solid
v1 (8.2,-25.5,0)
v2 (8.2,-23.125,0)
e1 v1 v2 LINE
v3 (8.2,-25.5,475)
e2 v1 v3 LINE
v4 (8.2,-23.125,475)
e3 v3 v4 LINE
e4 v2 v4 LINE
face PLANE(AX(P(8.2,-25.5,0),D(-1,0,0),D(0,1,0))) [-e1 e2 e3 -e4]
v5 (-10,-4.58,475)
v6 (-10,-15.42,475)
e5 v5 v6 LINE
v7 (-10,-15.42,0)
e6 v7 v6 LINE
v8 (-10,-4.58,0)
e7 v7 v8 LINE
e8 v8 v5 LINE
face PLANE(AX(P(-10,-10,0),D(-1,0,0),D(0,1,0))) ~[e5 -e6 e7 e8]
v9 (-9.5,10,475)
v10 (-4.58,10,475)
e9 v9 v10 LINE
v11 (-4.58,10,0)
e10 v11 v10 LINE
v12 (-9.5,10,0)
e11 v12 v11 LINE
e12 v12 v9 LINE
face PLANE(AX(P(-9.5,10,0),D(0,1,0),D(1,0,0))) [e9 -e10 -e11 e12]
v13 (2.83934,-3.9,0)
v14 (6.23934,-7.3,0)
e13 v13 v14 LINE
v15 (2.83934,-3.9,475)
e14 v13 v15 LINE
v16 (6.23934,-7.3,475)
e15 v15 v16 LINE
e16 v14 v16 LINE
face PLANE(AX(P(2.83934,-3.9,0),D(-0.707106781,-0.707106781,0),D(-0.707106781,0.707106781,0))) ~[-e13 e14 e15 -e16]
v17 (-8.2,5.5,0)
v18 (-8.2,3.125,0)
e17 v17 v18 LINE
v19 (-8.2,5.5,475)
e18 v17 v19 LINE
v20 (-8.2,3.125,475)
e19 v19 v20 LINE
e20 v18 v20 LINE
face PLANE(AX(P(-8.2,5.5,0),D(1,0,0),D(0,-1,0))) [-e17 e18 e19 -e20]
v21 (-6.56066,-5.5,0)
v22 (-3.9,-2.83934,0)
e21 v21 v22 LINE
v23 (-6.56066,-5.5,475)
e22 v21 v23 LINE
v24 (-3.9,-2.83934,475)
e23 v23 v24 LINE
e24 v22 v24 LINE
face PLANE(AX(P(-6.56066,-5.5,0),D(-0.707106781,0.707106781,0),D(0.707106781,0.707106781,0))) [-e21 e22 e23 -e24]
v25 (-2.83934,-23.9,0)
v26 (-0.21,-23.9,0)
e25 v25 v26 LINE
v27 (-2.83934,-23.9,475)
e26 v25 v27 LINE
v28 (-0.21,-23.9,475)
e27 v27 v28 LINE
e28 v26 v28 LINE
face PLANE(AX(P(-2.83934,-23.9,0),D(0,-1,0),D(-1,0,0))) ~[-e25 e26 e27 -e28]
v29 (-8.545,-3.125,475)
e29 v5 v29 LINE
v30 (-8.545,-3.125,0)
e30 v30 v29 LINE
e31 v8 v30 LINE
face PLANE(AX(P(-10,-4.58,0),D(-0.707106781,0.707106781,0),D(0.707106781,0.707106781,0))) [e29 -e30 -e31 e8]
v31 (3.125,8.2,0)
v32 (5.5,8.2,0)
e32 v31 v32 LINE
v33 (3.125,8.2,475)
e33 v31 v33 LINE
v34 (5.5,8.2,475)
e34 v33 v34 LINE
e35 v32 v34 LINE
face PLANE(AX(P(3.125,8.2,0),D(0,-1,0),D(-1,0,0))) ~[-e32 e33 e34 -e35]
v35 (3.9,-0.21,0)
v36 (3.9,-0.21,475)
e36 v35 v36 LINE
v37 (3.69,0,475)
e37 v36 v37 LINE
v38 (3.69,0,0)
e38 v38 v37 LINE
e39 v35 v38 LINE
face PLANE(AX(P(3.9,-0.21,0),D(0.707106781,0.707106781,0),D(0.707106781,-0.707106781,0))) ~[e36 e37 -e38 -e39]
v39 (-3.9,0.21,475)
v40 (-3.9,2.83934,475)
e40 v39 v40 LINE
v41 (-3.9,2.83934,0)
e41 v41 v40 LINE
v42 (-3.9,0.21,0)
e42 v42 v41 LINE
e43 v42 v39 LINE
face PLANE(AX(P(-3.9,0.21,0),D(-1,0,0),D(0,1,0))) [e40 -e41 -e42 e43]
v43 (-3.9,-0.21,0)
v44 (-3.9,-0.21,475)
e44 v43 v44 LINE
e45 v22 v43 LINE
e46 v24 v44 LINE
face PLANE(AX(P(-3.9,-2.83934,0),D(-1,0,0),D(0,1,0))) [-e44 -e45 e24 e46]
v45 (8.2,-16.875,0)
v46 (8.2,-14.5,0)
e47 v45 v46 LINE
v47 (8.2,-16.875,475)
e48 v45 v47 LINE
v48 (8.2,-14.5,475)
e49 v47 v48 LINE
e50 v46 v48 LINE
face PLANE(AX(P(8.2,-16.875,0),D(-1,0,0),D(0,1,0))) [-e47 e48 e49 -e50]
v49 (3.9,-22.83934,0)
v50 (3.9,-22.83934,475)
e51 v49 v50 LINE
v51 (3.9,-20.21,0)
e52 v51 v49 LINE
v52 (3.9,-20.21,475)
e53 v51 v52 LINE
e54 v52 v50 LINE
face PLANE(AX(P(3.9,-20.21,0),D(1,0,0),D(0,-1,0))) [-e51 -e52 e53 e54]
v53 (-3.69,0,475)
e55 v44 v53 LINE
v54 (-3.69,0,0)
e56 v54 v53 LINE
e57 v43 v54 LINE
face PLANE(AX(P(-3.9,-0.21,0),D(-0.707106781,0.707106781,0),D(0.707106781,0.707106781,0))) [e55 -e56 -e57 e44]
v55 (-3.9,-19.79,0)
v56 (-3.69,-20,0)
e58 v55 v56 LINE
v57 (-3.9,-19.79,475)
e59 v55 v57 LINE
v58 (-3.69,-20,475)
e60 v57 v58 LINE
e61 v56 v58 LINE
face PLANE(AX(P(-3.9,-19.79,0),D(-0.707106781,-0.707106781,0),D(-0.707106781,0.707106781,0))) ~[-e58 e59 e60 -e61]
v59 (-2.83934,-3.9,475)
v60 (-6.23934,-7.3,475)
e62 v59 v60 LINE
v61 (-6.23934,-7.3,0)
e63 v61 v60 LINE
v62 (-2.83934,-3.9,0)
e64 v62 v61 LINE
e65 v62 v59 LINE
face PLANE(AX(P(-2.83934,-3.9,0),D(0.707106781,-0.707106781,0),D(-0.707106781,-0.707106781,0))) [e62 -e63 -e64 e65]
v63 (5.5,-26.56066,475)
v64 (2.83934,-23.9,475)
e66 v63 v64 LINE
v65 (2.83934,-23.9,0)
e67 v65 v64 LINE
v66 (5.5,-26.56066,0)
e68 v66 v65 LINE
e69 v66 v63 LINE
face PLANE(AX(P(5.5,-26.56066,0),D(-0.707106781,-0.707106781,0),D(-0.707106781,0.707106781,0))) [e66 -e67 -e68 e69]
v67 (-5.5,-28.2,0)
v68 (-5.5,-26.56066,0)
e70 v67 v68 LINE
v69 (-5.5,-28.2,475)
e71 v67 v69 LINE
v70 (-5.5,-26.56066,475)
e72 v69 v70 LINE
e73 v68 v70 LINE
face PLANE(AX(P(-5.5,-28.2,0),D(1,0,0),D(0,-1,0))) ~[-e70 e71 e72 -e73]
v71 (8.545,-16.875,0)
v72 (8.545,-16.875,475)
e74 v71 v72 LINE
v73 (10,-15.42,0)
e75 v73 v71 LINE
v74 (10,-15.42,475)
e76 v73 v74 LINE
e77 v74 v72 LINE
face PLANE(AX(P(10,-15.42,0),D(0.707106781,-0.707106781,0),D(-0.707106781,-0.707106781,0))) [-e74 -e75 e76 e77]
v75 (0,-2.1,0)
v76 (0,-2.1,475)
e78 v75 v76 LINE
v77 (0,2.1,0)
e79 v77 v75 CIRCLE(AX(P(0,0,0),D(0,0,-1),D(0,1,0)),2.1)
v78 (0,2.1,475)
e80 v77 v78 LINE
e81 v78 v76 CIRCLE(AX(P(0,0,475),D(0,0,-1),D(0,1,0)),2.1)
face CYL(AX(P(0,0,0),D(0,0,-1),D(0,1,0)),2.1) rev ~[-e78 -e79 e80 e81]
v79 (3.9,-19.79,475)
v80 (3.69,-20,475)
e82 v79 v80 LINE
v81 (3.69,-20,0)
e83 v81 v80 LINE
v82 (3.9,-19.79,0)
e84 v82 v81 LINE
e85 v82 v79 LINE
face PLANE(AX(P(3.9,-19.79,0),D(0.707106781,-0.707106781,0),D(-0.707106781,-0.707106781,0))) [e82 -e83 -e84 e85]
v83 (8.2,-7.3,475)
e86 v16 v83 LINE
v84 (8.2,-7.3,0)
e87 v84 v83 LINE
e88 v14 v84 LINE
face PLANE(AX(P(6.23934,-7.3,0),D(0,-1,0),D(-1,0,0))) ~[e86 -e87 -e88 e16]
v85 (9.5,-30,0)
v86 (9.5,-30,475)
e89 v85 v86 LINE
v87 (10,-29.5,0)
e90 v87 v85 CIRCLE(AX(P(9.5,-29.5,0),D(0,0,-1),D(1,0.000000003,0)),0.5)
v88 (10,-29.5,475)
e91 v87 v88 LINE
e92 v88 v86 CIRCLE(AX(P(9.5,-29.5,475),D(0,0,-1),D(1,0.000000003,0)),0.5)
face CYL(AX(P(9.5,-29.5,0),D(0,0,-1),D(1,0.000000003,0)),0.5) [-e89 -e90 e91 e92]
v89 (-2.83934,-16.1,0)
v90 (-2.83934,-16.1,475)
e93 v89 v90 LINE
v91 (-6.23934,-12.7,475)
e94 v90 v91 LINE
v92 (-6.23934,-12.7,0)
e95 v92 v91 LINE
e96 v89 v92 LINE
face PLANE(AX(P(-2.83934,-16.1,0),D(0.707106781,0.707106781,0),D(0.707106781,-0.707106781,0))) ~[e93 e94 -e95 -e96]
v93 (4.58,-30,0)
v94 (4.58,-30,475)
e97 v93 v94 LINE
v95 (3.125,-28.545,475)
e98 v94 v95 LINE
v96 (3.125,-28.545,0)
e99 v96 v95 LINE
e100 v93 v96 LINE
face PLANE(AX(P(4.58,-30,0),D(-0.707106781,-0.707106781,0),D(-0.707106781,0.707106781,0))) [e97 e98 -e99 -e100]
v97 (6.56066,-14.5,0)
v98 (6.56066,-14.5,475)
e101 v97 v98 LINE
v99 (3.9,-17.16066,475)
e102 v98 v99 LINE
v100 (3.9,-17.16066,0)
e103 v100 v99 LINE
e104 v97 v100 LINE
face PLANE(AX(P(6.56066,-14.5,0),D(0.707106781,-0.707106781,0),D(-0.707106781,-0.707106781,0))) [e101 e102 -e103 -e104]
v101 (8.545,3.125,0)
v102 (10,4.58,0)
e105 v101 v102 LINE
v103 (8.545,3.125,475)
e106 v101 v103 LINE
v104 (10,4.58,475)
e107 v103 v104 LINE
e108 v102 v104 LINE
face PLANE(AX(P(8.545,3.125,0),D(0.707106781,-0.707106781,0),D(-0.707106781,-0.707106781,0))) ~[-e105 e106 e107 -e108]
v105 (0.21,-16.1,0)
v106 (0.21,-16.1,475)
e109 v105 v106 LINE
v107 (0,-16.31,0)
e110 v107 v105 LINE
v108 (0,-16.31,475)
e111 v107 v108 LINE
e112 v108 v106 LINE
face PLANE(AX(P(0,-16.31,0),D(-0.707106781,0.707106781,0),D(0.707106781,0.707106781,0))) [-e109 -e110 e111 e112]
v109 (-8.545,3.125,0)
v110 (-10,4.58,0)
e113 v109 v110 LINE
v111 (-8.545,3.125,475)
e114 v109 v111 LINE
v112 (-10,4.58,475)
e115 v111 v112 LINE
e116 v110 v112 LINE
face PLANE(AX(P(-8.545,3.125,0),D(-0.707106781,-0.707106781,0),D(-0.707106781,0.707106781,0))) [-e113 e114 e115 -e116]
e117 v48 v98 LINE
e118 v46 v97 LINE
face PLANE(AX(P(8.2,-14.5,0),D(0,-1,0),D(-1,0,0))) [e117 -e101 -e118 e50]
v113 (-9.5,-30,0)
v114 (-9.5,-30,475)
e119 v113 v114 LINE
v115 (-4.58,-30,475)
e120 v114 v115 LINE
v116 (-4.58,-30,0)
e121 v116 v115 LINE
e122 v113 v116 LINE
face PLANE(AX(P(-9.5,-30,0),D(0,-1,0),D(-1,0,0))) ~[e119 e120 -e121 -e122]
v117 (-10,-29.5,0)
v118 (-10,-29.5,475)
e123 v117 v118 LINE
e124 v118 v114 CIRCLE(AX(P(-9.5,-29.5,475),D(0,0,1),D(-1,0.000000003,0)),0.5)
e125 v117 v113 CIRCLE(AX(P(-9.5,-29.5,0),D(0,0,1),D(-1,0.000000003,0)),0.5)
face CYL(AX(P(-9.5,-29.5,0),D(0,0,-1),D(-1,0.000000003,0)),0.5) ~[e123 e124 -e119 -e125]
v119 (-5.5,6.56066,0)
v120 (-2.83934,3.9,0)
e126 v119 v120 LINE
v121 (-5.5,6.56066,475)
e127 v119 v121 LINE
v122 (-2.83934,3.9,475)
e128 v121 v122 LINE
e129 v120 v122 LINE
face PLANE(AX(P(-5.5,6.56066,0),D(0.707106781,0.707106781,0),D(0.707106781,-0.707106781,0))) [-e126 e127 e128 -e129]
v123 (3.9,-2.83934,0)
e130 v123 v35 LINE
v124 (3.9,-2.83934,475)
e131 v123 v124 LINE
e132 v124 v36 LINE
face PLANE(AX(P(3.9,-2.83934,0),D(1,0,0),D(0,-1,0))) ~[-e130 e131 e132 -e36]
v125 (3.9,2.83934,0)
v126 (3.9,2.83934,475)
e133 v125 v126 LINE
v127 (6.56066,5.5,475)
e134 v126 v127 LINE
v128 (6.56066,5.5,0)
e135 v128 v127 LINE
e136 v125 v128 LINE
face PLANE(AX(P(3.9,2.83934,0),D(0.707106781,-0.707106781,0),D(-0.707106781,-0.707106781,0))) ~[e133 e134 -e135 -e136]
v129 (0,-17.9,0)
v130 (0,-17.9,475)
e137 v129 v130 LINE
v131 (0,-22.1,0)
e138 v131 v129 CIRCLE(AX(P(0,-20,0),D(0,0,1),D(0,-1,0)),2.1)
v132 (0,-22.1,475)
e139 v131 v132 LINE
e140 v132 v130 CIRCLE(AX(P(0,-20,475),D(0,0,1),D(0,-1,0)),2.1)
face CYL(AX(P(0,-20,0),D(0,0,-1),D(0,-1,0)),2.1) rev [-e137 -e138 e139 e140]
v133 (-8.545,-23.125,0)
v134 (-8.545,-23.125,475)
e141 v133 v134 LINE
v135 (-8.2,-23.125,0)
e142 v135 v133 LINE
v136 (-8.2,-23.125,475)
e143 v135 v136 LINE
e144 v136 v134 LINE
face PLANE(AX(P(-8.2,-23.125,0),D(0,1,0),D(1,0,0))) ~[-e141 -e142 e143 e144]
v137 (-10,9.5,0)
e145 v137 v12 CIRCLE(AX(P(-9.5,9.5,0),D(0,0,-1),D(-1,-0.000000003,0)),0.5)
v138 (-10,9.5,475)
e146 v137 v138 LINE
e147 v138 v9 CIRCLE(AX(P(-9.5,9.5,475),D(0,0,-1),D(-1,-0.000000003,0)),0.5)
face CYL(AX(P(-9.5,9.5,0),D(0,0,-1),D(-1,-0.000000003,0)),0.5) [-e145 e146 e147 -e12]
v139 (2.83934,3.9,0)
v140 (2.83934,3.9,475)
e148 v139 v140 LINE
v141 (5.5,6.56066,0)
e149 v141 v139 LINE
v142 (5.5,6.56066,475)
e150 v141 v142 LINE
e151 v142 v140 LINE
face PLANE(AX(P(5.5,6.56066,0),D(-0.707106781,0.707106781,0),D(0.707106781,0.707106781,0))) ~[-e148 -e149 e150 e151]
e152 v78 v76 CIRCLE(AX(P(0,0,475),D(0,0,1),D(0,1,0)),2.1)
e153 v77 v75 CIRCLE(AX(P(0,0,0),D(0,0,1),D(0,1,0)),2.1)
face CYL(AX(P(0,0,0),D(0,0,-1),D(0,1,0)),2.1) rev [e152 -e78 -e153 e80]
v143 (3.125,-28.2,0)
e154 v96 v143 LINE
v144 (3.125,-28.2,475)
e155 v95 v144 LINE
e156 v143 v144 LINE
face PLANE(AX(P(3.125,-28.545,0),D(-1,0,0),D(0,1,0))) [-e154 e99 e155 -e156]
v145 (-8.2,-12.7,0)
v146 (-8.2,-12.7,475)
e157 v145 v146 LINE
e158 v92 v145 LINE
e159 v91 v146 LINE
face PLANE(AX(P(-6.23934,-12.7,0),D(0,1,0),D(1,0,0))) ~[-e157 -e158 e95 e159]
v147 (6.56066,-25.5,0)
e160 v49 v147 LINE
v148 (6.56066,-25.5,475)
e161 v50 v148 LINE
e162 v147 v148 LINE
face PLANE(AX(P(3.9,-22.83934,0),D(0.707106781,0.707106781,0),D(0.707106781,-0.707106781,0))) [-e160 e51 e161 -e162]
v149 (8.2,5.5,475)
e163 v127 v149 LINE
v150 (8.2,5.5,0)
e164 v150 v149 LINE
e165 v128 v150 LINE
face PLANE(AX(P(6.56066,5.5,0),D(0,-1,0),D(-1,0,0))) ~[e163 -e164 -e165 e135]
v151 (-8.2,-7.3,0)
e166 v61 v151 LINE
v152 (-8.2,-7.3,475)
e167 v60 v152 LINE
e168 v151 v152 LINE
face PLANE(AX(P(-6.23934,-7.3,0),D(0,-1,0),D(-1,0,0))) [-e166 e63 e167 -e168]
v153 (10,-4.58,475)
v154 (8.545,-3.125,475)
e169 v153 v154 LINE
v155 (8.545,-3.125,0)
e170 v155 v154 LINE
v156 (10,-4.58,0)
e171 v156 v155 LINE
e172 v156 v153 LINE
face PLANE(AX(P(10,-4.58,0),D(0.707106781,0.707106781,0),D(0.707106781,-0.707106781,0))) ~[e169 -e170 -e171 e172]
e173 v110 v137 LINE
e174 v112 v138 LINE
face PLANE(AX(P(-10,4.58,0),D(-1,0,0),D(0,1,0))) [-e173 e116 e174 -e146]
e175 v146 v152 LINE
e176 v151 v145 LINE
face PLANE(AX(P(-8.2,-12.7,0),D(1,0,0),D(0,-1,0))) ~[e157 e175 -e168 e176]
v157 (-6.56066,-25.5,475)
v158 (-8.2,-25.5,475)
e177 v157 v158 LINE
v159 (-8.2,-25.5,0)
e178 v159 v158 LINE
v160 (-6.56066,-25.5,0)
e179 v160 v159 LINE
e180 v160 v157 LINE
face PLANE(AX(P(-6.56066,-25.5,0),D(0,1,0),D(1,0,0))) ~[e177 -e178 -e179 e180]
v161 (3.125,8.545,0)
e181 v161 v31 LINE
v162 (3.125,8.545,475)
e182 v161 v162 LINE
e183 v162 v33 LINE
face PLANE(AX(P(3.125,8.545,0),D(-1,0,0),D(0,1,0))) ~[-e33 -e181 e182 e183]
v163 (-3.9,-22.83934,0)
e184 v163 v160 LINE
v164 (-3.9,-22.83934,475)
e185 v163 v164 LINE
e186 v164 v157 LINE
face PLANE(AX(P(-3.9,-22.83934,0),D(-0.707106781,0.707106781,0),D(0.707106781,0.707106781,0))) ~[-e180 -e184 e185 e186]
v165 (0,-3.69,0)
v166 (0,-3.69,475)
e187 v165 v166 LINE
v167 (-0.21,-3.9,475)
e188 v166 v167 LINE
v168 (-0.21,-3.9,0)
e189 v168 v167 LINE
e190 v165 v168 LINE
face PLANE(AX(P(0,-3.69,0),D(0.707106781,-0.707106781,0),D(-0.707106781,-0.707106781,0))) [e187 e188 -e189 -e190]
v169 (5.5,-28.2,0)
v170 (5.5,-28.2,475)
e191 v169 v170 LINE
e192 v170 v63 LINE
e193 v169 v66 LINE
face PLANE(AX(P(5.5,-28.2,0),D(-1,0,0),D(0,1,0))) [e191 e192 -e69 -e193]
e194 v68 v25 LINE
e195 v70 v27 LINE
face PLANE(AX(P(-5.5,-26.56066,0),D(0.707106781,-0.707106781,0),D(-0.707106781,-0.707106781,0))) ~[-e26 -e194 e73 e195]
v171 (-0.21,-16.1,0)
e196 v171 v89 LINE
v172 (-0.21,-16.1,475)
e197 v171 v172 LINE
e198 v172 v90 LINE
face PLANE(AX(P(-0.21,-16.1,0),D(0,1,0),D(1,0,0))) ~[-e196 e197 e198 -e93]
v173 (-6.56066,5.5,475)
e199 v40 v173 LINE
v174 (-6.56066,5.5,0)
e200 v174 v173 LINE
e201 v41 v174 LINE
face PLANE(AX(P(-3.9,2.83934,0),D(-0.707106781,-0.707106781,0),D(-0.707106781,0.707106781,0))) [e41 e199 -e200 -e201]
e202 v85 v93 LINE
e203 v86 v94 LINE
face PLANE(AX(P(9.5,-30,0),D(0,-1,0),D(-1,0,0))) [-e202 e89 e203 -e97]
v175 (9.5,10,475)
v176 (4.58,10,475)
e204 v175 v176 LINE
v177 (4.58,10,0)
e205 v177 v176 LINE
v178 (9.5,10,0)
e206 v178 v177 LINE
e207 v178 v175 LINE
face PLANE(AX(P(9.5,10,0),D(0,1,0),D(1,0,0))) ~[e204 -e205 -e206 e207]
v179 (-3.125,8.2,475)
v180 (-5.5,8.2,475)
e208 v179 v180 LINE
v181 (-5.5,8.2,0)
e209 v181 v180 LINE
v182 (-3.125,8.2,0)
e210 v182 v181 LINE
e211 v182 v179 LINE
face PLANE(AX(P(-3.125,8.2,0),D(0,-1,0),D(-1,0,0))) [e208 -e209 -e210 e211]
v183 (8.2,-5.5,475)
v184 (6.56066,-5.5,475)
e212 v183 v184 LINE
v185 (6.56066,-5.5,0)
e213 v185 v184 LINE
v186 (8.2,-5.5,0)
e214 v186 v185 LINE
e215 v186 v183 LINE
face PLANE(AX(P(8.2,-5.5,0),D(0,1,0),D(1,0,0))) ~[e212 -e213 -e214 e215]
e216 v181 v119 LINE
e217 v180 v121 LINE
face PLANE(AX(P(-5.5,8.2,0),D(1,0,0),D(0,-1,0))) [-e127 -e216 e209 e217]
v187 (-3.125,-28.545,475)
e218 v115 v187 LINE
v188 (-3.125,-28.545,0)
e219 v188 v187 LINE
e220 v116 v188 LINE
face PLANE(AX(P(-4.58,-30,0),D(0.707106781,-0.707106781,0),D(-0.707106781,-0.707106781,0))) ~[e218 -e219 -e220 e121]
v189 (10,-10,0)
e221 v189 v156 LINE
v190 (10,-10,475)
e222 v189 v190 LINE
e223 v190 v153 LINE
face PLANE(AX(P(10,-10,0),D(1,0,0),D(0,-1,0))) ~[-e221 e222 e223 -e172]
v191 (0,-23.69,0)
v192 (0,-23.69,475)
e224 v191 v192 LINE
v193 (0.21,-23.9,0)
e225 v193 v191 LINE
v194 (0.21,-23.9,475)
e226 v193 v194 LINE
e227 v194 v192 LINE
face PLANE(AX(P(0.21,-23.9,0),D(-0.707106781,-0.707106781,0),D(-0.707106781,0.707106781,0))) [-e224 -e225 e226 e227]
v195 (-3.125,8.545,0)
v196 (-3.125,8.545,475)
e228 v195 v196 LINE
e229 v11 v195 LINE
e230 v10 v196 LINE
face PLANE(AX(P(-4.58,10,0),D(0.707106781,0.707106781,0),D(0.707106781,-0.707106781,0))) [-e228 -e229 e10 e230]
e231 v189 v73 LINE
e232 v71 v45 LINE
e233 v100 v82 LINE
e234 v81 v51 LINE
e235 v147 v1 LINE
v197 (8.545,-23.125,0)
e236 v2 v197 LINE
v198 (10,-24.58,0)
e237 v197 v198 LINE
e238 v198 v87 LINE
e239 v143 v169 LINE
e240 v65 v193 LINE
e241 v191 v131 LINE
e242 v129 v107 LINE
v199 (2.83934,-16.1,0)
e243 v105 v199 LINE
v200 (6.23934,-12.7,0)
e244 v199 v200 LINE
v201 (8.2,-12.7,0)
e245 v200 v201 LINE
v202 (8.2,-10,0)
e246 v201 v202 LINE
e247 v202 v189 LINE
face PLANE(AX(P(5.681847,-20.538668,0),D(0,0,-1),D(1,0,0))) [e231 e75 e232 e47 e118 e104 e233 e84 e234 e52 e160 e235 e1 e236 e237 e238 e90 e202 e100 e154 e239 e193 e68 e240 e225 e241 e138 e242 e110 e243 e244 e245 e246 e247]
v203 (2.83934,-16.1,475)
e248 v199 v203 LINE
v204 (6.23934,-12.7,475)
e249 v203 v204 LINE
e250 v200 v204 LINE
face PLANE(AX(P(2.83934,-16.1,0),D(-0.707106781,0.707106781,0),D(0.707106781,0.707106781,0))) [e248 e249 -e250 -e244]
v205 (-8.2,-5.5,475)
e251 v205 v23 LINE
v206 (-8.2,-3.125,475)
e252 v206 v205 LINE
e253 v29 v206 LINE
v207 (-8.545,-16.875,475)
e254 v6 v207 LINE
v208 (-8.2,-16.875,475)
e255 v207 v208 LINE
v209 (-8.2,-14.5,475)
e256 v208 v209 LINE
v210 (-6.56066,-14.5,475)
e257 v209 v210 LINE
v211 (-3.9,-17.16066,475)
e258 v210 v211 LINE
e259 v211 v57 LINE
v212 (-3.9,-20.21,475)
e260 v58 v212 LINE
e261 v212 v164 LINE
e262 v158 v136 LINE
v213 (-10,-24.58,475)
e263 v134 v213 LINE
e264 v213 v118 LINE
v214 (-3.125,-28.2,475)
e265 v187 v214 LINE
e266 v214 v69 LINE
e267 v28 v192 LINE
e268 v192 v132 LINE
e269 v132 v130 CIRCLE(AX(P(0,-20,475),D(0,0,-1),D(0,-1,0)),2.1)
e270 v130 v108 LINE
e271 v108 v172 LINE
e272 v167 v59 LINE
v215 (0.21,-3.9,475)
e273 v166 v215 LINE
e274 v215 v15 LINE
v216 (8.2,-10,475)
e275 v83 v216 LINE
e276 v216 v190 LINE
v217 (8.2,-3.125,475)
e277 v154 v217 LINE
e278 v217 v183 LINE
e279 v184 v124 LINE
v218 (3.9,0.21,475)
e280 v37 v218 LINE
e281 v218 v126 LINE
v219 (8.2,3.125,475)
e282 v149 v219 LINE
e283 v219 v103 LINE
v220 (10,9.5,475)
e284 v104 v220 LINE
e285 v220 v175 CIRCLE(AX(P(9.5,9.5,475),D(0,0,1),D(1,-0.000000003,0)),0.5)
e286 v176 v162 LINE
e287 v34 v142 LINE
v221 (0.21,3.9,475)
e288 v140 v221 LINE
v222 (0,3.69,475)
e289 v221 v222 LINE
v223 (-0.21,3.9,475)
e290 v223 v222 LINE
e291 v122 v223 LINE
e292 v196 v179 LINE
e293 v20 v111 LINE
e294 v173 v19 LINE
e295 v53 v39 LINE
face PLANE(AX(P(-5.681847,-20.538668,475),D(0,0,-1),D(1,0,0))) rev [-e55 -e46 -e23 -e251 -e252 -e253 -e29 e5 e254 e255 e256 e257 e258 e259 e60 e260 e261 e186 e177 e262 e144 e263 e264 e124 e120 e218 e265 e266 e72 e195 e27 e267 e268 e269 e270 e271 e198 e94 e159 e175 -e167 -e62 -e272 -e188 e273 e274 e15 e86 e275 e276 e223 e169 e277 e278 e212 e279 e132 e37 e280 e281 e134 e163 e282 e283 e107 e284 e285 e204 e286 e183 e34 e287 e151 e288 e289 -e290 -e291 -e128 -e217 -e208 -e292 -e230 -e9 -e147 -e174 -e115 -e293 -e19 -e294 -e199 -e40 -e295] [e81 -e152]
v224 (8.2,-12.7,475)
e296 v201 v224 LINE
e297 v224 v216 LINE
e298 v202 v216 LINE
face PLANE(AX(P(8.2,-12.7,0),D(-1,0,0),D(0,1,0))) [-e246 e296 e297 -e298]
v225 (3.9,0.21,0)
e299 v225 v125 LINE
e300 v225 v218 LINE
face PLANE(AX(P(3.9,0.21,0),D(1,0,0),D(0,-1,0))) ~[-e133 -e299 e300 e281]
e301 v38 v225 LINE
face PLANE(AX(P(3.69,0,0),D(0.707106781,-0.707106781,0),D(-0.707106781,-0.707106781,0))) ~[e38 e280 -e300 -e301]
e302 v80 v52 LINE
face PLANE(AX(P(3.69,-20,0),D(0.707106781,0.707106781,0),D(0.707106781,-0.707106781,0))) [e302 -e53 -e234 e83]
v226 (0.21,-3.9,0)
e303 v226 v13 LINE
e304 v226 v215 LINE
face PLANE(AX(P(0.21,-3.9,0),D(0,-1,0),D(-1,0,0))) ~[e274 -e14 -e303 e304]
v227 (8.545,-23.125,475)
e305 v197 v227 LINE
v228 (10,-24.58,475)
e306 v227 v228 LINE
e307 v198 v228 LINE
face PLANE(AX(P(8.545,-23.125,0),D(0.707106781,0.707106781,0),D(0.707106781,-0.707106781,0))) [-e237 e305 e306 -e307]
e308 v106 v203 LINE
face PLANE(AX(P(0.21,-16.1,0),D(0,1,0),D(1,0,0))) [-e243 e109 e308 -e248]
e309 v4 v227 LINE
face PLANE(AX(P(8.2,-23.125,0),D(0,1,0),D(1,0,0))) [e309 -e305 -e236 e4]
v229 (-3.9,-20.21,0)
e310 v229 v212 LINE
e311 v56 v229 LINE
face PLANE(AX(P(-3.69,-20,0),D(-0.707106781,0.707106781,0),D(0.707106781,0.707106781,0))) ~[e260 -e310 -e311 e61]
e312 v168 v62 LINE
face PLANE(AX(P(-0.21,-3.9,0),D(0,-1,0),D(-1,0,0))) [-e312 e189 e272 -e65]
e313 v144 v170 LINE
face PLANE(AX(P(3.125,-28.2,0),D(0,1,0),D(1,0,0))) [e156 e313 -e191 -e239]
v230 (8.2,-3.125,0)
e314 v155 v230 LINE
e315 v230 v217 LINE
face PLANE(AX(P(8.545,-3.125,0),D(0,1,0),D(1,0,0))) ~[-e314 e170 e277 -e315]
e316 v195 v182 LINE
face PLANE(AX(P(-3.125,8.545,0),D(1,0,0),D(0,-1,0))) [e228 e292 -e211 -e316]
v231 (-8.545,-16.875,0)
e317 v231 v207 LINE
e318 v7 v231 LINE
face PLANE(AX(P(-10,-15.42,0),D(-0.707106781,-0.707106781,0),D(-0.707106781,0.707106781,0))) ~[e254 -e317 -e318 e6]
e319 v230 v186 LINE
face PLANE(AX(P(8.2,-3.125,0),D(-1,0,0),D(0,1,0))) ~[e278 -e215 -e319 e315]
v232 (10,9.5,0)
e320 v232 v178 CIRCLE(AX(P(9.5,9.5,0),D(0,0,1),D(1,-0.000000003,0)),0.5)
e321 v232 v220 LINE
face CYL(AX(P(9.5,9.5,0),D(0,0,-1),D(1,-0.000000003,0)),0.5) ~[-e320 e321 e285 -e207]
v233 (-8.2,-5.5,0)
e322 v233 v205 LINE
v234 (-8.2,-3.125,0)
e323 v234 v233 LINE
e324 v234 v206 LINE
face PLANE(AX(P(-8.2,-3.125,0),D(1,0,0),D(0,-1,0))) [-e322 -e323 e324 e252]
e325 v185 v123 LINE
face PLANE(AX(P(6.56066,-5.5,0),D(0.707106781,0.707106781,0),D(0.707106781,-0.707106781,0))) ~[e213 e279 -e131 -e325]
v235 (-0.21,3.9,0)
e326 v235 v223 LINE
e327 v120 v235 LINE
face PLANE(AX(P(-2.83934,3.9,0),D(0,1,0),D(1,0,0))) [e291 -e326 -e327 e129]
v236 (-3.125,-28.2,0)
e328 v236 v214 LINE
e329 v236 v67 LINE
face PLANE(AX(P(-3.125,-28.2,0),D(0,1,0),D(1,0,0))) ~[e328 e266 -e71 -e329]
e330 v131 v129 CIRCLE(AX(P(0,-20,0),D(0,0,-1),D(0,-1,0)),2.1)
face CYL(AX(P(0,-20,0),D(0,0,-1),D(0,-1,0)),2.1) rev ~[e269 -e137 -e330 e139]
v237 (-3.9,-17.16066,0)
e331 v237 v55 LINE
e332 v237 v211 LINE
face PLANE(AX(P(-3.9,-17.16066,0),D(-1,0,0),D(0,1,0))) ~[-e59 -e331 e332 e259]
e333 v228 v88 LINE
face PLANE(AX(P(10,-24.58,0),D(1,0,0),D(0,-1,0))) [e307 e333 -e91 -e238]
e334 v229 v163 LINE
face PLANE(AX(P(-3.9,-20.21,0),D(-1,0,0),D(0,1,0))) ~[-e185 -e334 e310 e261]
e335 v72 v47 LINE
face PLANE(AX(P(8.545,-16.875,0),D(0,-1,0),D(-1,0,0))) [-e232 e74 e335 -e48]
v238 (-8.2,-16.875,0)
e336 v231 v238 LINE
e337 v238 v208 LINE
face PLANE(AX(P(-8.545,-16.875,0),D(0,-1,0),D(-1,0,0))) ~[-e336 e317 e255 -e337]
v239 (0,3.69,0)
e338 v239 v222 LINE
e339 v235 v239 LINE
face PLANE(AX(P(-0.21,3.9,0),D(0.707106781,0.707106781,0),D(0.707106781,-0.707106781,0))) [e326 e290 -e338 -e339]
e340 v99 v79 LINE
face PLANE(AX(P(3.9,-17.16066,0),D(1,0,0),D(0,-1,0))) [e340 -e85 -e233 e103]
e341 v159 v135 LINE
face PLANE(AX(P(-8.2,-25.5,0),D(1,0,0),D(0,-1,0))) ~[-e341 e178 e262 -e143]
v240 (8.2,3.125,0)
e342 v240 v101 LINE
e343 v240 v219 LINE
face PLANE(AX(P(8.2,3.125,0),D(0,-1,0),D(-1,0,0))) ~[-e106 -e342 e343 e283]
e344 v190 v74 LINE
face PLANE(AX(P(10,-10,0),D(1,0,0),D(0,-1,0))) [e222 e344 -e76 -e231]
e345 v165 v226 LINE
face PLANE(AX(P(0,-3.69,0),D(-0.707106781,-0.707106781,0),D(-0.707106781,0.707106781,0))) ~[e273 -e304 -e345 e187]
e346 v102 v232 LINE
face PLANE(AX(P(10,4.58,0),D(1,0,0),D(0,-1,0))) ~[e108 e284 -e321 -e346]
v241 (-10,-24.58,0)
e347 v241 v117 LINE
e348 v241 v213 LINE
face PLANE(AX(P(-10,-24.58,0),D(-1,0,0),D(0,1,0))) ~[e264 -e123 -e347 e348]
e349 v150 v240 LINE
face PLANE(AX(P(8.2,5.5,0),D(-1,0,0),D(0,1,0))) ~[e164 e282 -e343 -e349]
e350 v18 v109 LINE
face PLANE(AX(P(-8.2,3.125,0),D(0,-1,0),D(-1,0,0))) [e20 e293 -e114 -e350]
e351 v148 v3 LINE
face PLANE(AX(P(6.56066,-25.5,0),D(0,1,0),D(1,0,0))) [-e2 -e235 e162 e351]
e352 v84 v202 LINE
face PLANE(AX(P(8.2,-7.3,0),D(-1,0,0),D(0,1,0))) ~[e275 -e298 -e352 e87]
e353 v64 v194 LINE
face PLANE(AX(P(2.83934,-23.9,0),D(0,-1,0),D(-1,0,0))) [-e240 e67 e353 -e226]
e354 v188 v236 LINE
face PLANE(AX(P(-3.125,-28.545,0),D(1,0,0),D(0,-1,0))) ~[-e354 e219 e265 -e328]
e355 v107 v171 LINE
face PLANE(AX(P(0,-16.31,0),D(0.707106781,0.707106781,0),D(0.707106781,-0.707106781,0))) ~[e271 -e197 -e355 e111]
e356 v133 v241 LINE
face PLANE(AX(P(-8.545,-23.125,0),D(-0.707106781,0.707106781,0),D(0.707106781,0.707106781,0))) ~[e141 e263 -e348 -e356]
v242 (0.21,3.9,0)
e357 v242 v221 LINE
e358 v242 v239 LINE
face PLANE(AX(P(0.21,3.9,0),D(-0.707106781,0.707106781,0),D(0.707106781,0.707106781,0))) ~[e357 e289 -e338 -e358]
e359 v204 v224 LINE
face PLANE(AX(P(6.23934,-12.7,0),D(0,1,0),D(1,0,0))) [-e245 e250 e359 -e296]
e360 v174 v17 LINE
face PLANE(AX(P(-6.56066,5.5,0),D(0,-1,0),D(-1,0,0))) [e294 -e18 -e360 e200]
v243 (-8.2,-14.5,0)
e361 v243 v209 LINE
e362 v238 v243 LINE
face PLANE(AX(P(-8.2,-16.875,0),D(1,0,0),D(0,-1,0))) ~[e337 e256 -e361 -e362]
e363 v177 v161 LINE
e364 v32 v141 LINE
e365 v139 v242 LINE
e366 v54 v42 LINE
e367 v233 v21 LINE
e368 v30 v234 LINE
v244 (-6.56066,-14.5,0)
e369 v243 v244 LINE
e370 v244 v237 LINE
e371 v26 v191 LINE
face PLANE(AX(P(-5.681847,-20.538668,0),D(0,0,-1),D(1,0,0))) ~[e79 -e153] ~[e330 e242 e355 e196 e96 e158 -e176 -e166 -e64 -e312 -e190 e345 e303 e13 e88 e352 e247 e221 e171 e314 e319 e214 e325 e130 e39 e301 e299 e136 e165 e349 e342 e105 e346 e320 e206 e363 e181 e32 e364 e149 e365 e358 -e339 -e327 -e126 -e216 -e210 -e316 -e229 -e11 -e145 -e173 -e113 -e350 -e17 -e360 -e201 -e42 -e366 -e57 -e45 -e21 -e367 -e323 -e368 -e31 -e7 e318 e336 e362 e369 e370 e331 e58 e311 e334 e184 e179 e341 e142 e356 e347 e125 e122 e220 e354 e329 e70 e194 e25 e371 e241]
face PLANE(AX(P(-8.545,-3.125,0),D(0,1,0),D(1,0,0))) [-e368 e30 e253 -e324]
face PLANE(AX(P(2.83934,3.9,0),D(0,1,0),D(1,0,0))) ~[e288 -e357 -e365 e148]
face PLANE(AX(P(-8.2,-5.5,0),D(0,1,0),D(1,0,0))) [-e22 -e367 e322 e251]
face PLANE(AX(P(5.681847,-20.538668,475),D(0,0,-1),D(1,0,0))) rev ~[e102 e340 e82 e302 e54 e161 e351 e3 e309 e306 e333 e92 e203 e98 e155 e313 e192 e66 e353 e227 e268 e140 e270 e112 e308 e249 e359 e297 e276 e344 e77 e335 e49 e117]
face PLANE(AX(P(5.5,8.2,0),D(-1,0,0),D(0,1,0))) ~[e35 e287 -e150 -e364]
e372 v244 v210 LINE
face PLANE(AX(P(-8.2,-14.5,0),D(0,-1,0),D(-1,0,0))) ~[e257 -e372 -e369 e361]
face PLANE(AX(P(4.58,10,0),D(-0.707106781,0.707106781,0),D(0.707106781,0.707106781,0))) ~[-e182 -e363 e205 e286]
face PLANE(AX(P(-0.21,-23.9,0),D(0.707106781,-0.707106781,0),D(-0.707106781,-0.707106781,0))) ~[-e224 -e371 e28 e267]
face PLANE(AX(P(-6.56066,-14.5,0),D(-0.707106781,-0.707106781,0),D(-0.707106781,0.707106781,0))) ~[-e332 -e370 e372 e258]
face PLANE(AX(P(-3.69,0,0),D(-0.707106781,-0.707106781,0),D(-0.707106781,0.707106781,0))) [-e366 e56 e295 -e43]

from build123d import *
from build123d.topology import SkipClean

# Parameters (mm, degrees)
BOSS_EXTRU_1_DEPTH     = 475
SYM_TRIE6_COPY_1_DEPTH = 475


with BuildPart() as part:
    # Esquisse1 → Boss.-Extru.1 (new body)
    with BuildSketch(Plane.XY):
        with BuildLine():
            Line((-9.5, 10), (-4.58, 10))
            Line((-4.58, 10), (-3.125, 8.545))
            Line((-3.125, 8.545), (-3.125, 8.2))
            Line((-3.125, 8.2), (-5.5, 8.2))
            Line((-5.5, 8.2), (-5.5, 6.560660172))
            Line((-5.5, 6.560660172), (-2.839339828, 3.9))
            Line((-2.839339828, 3.9), (-0.21, 3.9))
            Line((-0.21, 3.9), (0, 3.69))
            Line((0, 3.69), (0, 2.1))
            ThreePointArc((0, 2.1), (-2.1, 0), (0, -2.1))
            Line((0, -2.1), (0, -3.69))
            Line((0, -3.69), (-0.21, -3.9))
            Line((-0.21, -3.9), (-2.839339828, -3.9))
            Line((-2.839339828, -3.9), (-6.239339828, -7.3))
            Line((-6.239339828, -7.3), (-8.2, -7.3))
            Line((-8.2, -7.3), (-8.2, -10))
            Line((-8.2, -10), (-10, -10))
            Line((-10, -10), (-10, -4.58))
            Line((-10, -4.58), (-8.545, -3.125))
            Line((-8.545, -3.125), (-8.2, -3.125))
            Line((-8.2, -3.125), (-8.2, -5.5))
            Line((-8.2, -5.5), (-6.560660172, -5.5))
            Line((-6.560660172, -5.5), (-3.9, -2.839339828))
            Line((-3.9, -2.839339828), (-3.9, -0.21))
            Line((-3.9, -0.21), (-3.69, 0))
            Line((-3.69, 0), (-3.9, 0.21))
            Line((-3.9, 0.21), (-3.9, 2.839339828))
            Line((-3.9, 2.839339828), (-6.560660172, 5.5))
            Line((-6.560660172, 5.5), (-8.2, 5.5))
            Line((-8.2, 5.5), (-8.2, 3.125))
            Line((-8.2, 3.125), (-8.545, 3.125))
            Line((-8.545, 3.125), (-10, 4.58))
            Line((-10, 4.58), (-10, 9.5))
            ThreePointArc((-10, 9.5), (-9.853553391, 9.853553391), (-9.5, 10))
        make_face()
    boss_extru_1 = extrude(amount=BOSS_EXTRU_1_DEPTH)

    # Symétrie1: Boss.-Extru.1 across plane
    add(boss_extru_1.mirror(Plane(origin=(0, 3.69, 475), x_dir=(0, 0, 1), z_dir=(-1, 0, 0))))

    # Symétrie6: Boss.-Extru.1 across plane
    add(boss_extru_1.mirror(Plane(origin=(-8.2, -10, 475), x_dir=(0, 0, 1), z_dir=(0, 1, 0))))

    # Symétrie6 copy 1 sketch → Symétrie6 copy 1 (add)
    with SkipClean():  # the faces are left unmerged after this step: merging them gives an invalid solid
        with BuildSketch(Plane(origin=(0, -20, 0), x_dir=(-1, 0, 0), z_dir=(0, 0, 1))):
            with BuildLine():
                Line((-9.5, 10), (-4.58, 10))
                Line((-4.58, 10), (-3.125, 8.545))
                Line((-3.125, 8.545), (-3.125, 8.2))
                Line((-3.125, 8.2), (-5.5, 8.2))
                Line((-5.5, 8.2), (-5.5, 6.560660172))
                Line((-5.5, 6.560660172), (-2.839339828, 3.9))
                Line((-2.839339828, 3.9), (-0.21, 3.9))
                Line((-0.21, 3.9), (0, 3.69))
                Line((0, 3.69), (0, 2.1))
                ThreePointArc((0, 2.1), (-2.1, 0), (0, -2.1))
                Line((0, -2.1), (0, -3.69))
                Line((0, -3.69), (-0.21, -3.9))
                Line((-0.21, -3.9), (-2.839339828, -3.9))
                Line((-2.839339828, -3.9), (-6.239339828, -7.3))
                Line((-6.239339828, -7.3), (-8.2, -7.3))
                Line((-8.2, -7.3), (-8.2, -10))
                Line((-8.2, -10), (-10, -10))
                Line((-10, -10), (-10, -4.58))
                Line((-10, -4.58), (-8.545, -3.125))
                Line((-8.545, -3.125), (-8.2, -3.125))
                Line((-8.2, -3.125), (-8.2, -5.5))
                Line((-8.2, -5.5), (-6.560660172, -5.5))
                Line((-6.560660172, -5.5), (-3.9, -2.839339828))
                Line((-3.9, -2.839339828), (-3.9, -0.21))
                Line((-3.9, -0.21), (-3.69, 0))
                Line((-3.69, 0), (-3.9, 0.21))
                Line((-3.9, 0.21), (-3.9, 2.839339828))
                Line((-3.9, 2.839339828), (-6.560660172, 5.5))
                Line((-6.560660172, 5.5), (-8.2, 5.5))
                Line((-8.2, 5.5), (-8.2, 3.125))
                Line((-8.2, 3.125), (-8.545, 3.125))
                Line((-8.545, 3.125), (-10, 4.58))
                Line((-10, 4.58), (-10, 9.5))
                ThreePointArc((-10, 9.5), (-9.853553391, 9.853553391), (-9.5, 10))
            make_face()
        extrude(amount=SYM_TRIE6_COPY_1_DEPTH)


solid = part.part
